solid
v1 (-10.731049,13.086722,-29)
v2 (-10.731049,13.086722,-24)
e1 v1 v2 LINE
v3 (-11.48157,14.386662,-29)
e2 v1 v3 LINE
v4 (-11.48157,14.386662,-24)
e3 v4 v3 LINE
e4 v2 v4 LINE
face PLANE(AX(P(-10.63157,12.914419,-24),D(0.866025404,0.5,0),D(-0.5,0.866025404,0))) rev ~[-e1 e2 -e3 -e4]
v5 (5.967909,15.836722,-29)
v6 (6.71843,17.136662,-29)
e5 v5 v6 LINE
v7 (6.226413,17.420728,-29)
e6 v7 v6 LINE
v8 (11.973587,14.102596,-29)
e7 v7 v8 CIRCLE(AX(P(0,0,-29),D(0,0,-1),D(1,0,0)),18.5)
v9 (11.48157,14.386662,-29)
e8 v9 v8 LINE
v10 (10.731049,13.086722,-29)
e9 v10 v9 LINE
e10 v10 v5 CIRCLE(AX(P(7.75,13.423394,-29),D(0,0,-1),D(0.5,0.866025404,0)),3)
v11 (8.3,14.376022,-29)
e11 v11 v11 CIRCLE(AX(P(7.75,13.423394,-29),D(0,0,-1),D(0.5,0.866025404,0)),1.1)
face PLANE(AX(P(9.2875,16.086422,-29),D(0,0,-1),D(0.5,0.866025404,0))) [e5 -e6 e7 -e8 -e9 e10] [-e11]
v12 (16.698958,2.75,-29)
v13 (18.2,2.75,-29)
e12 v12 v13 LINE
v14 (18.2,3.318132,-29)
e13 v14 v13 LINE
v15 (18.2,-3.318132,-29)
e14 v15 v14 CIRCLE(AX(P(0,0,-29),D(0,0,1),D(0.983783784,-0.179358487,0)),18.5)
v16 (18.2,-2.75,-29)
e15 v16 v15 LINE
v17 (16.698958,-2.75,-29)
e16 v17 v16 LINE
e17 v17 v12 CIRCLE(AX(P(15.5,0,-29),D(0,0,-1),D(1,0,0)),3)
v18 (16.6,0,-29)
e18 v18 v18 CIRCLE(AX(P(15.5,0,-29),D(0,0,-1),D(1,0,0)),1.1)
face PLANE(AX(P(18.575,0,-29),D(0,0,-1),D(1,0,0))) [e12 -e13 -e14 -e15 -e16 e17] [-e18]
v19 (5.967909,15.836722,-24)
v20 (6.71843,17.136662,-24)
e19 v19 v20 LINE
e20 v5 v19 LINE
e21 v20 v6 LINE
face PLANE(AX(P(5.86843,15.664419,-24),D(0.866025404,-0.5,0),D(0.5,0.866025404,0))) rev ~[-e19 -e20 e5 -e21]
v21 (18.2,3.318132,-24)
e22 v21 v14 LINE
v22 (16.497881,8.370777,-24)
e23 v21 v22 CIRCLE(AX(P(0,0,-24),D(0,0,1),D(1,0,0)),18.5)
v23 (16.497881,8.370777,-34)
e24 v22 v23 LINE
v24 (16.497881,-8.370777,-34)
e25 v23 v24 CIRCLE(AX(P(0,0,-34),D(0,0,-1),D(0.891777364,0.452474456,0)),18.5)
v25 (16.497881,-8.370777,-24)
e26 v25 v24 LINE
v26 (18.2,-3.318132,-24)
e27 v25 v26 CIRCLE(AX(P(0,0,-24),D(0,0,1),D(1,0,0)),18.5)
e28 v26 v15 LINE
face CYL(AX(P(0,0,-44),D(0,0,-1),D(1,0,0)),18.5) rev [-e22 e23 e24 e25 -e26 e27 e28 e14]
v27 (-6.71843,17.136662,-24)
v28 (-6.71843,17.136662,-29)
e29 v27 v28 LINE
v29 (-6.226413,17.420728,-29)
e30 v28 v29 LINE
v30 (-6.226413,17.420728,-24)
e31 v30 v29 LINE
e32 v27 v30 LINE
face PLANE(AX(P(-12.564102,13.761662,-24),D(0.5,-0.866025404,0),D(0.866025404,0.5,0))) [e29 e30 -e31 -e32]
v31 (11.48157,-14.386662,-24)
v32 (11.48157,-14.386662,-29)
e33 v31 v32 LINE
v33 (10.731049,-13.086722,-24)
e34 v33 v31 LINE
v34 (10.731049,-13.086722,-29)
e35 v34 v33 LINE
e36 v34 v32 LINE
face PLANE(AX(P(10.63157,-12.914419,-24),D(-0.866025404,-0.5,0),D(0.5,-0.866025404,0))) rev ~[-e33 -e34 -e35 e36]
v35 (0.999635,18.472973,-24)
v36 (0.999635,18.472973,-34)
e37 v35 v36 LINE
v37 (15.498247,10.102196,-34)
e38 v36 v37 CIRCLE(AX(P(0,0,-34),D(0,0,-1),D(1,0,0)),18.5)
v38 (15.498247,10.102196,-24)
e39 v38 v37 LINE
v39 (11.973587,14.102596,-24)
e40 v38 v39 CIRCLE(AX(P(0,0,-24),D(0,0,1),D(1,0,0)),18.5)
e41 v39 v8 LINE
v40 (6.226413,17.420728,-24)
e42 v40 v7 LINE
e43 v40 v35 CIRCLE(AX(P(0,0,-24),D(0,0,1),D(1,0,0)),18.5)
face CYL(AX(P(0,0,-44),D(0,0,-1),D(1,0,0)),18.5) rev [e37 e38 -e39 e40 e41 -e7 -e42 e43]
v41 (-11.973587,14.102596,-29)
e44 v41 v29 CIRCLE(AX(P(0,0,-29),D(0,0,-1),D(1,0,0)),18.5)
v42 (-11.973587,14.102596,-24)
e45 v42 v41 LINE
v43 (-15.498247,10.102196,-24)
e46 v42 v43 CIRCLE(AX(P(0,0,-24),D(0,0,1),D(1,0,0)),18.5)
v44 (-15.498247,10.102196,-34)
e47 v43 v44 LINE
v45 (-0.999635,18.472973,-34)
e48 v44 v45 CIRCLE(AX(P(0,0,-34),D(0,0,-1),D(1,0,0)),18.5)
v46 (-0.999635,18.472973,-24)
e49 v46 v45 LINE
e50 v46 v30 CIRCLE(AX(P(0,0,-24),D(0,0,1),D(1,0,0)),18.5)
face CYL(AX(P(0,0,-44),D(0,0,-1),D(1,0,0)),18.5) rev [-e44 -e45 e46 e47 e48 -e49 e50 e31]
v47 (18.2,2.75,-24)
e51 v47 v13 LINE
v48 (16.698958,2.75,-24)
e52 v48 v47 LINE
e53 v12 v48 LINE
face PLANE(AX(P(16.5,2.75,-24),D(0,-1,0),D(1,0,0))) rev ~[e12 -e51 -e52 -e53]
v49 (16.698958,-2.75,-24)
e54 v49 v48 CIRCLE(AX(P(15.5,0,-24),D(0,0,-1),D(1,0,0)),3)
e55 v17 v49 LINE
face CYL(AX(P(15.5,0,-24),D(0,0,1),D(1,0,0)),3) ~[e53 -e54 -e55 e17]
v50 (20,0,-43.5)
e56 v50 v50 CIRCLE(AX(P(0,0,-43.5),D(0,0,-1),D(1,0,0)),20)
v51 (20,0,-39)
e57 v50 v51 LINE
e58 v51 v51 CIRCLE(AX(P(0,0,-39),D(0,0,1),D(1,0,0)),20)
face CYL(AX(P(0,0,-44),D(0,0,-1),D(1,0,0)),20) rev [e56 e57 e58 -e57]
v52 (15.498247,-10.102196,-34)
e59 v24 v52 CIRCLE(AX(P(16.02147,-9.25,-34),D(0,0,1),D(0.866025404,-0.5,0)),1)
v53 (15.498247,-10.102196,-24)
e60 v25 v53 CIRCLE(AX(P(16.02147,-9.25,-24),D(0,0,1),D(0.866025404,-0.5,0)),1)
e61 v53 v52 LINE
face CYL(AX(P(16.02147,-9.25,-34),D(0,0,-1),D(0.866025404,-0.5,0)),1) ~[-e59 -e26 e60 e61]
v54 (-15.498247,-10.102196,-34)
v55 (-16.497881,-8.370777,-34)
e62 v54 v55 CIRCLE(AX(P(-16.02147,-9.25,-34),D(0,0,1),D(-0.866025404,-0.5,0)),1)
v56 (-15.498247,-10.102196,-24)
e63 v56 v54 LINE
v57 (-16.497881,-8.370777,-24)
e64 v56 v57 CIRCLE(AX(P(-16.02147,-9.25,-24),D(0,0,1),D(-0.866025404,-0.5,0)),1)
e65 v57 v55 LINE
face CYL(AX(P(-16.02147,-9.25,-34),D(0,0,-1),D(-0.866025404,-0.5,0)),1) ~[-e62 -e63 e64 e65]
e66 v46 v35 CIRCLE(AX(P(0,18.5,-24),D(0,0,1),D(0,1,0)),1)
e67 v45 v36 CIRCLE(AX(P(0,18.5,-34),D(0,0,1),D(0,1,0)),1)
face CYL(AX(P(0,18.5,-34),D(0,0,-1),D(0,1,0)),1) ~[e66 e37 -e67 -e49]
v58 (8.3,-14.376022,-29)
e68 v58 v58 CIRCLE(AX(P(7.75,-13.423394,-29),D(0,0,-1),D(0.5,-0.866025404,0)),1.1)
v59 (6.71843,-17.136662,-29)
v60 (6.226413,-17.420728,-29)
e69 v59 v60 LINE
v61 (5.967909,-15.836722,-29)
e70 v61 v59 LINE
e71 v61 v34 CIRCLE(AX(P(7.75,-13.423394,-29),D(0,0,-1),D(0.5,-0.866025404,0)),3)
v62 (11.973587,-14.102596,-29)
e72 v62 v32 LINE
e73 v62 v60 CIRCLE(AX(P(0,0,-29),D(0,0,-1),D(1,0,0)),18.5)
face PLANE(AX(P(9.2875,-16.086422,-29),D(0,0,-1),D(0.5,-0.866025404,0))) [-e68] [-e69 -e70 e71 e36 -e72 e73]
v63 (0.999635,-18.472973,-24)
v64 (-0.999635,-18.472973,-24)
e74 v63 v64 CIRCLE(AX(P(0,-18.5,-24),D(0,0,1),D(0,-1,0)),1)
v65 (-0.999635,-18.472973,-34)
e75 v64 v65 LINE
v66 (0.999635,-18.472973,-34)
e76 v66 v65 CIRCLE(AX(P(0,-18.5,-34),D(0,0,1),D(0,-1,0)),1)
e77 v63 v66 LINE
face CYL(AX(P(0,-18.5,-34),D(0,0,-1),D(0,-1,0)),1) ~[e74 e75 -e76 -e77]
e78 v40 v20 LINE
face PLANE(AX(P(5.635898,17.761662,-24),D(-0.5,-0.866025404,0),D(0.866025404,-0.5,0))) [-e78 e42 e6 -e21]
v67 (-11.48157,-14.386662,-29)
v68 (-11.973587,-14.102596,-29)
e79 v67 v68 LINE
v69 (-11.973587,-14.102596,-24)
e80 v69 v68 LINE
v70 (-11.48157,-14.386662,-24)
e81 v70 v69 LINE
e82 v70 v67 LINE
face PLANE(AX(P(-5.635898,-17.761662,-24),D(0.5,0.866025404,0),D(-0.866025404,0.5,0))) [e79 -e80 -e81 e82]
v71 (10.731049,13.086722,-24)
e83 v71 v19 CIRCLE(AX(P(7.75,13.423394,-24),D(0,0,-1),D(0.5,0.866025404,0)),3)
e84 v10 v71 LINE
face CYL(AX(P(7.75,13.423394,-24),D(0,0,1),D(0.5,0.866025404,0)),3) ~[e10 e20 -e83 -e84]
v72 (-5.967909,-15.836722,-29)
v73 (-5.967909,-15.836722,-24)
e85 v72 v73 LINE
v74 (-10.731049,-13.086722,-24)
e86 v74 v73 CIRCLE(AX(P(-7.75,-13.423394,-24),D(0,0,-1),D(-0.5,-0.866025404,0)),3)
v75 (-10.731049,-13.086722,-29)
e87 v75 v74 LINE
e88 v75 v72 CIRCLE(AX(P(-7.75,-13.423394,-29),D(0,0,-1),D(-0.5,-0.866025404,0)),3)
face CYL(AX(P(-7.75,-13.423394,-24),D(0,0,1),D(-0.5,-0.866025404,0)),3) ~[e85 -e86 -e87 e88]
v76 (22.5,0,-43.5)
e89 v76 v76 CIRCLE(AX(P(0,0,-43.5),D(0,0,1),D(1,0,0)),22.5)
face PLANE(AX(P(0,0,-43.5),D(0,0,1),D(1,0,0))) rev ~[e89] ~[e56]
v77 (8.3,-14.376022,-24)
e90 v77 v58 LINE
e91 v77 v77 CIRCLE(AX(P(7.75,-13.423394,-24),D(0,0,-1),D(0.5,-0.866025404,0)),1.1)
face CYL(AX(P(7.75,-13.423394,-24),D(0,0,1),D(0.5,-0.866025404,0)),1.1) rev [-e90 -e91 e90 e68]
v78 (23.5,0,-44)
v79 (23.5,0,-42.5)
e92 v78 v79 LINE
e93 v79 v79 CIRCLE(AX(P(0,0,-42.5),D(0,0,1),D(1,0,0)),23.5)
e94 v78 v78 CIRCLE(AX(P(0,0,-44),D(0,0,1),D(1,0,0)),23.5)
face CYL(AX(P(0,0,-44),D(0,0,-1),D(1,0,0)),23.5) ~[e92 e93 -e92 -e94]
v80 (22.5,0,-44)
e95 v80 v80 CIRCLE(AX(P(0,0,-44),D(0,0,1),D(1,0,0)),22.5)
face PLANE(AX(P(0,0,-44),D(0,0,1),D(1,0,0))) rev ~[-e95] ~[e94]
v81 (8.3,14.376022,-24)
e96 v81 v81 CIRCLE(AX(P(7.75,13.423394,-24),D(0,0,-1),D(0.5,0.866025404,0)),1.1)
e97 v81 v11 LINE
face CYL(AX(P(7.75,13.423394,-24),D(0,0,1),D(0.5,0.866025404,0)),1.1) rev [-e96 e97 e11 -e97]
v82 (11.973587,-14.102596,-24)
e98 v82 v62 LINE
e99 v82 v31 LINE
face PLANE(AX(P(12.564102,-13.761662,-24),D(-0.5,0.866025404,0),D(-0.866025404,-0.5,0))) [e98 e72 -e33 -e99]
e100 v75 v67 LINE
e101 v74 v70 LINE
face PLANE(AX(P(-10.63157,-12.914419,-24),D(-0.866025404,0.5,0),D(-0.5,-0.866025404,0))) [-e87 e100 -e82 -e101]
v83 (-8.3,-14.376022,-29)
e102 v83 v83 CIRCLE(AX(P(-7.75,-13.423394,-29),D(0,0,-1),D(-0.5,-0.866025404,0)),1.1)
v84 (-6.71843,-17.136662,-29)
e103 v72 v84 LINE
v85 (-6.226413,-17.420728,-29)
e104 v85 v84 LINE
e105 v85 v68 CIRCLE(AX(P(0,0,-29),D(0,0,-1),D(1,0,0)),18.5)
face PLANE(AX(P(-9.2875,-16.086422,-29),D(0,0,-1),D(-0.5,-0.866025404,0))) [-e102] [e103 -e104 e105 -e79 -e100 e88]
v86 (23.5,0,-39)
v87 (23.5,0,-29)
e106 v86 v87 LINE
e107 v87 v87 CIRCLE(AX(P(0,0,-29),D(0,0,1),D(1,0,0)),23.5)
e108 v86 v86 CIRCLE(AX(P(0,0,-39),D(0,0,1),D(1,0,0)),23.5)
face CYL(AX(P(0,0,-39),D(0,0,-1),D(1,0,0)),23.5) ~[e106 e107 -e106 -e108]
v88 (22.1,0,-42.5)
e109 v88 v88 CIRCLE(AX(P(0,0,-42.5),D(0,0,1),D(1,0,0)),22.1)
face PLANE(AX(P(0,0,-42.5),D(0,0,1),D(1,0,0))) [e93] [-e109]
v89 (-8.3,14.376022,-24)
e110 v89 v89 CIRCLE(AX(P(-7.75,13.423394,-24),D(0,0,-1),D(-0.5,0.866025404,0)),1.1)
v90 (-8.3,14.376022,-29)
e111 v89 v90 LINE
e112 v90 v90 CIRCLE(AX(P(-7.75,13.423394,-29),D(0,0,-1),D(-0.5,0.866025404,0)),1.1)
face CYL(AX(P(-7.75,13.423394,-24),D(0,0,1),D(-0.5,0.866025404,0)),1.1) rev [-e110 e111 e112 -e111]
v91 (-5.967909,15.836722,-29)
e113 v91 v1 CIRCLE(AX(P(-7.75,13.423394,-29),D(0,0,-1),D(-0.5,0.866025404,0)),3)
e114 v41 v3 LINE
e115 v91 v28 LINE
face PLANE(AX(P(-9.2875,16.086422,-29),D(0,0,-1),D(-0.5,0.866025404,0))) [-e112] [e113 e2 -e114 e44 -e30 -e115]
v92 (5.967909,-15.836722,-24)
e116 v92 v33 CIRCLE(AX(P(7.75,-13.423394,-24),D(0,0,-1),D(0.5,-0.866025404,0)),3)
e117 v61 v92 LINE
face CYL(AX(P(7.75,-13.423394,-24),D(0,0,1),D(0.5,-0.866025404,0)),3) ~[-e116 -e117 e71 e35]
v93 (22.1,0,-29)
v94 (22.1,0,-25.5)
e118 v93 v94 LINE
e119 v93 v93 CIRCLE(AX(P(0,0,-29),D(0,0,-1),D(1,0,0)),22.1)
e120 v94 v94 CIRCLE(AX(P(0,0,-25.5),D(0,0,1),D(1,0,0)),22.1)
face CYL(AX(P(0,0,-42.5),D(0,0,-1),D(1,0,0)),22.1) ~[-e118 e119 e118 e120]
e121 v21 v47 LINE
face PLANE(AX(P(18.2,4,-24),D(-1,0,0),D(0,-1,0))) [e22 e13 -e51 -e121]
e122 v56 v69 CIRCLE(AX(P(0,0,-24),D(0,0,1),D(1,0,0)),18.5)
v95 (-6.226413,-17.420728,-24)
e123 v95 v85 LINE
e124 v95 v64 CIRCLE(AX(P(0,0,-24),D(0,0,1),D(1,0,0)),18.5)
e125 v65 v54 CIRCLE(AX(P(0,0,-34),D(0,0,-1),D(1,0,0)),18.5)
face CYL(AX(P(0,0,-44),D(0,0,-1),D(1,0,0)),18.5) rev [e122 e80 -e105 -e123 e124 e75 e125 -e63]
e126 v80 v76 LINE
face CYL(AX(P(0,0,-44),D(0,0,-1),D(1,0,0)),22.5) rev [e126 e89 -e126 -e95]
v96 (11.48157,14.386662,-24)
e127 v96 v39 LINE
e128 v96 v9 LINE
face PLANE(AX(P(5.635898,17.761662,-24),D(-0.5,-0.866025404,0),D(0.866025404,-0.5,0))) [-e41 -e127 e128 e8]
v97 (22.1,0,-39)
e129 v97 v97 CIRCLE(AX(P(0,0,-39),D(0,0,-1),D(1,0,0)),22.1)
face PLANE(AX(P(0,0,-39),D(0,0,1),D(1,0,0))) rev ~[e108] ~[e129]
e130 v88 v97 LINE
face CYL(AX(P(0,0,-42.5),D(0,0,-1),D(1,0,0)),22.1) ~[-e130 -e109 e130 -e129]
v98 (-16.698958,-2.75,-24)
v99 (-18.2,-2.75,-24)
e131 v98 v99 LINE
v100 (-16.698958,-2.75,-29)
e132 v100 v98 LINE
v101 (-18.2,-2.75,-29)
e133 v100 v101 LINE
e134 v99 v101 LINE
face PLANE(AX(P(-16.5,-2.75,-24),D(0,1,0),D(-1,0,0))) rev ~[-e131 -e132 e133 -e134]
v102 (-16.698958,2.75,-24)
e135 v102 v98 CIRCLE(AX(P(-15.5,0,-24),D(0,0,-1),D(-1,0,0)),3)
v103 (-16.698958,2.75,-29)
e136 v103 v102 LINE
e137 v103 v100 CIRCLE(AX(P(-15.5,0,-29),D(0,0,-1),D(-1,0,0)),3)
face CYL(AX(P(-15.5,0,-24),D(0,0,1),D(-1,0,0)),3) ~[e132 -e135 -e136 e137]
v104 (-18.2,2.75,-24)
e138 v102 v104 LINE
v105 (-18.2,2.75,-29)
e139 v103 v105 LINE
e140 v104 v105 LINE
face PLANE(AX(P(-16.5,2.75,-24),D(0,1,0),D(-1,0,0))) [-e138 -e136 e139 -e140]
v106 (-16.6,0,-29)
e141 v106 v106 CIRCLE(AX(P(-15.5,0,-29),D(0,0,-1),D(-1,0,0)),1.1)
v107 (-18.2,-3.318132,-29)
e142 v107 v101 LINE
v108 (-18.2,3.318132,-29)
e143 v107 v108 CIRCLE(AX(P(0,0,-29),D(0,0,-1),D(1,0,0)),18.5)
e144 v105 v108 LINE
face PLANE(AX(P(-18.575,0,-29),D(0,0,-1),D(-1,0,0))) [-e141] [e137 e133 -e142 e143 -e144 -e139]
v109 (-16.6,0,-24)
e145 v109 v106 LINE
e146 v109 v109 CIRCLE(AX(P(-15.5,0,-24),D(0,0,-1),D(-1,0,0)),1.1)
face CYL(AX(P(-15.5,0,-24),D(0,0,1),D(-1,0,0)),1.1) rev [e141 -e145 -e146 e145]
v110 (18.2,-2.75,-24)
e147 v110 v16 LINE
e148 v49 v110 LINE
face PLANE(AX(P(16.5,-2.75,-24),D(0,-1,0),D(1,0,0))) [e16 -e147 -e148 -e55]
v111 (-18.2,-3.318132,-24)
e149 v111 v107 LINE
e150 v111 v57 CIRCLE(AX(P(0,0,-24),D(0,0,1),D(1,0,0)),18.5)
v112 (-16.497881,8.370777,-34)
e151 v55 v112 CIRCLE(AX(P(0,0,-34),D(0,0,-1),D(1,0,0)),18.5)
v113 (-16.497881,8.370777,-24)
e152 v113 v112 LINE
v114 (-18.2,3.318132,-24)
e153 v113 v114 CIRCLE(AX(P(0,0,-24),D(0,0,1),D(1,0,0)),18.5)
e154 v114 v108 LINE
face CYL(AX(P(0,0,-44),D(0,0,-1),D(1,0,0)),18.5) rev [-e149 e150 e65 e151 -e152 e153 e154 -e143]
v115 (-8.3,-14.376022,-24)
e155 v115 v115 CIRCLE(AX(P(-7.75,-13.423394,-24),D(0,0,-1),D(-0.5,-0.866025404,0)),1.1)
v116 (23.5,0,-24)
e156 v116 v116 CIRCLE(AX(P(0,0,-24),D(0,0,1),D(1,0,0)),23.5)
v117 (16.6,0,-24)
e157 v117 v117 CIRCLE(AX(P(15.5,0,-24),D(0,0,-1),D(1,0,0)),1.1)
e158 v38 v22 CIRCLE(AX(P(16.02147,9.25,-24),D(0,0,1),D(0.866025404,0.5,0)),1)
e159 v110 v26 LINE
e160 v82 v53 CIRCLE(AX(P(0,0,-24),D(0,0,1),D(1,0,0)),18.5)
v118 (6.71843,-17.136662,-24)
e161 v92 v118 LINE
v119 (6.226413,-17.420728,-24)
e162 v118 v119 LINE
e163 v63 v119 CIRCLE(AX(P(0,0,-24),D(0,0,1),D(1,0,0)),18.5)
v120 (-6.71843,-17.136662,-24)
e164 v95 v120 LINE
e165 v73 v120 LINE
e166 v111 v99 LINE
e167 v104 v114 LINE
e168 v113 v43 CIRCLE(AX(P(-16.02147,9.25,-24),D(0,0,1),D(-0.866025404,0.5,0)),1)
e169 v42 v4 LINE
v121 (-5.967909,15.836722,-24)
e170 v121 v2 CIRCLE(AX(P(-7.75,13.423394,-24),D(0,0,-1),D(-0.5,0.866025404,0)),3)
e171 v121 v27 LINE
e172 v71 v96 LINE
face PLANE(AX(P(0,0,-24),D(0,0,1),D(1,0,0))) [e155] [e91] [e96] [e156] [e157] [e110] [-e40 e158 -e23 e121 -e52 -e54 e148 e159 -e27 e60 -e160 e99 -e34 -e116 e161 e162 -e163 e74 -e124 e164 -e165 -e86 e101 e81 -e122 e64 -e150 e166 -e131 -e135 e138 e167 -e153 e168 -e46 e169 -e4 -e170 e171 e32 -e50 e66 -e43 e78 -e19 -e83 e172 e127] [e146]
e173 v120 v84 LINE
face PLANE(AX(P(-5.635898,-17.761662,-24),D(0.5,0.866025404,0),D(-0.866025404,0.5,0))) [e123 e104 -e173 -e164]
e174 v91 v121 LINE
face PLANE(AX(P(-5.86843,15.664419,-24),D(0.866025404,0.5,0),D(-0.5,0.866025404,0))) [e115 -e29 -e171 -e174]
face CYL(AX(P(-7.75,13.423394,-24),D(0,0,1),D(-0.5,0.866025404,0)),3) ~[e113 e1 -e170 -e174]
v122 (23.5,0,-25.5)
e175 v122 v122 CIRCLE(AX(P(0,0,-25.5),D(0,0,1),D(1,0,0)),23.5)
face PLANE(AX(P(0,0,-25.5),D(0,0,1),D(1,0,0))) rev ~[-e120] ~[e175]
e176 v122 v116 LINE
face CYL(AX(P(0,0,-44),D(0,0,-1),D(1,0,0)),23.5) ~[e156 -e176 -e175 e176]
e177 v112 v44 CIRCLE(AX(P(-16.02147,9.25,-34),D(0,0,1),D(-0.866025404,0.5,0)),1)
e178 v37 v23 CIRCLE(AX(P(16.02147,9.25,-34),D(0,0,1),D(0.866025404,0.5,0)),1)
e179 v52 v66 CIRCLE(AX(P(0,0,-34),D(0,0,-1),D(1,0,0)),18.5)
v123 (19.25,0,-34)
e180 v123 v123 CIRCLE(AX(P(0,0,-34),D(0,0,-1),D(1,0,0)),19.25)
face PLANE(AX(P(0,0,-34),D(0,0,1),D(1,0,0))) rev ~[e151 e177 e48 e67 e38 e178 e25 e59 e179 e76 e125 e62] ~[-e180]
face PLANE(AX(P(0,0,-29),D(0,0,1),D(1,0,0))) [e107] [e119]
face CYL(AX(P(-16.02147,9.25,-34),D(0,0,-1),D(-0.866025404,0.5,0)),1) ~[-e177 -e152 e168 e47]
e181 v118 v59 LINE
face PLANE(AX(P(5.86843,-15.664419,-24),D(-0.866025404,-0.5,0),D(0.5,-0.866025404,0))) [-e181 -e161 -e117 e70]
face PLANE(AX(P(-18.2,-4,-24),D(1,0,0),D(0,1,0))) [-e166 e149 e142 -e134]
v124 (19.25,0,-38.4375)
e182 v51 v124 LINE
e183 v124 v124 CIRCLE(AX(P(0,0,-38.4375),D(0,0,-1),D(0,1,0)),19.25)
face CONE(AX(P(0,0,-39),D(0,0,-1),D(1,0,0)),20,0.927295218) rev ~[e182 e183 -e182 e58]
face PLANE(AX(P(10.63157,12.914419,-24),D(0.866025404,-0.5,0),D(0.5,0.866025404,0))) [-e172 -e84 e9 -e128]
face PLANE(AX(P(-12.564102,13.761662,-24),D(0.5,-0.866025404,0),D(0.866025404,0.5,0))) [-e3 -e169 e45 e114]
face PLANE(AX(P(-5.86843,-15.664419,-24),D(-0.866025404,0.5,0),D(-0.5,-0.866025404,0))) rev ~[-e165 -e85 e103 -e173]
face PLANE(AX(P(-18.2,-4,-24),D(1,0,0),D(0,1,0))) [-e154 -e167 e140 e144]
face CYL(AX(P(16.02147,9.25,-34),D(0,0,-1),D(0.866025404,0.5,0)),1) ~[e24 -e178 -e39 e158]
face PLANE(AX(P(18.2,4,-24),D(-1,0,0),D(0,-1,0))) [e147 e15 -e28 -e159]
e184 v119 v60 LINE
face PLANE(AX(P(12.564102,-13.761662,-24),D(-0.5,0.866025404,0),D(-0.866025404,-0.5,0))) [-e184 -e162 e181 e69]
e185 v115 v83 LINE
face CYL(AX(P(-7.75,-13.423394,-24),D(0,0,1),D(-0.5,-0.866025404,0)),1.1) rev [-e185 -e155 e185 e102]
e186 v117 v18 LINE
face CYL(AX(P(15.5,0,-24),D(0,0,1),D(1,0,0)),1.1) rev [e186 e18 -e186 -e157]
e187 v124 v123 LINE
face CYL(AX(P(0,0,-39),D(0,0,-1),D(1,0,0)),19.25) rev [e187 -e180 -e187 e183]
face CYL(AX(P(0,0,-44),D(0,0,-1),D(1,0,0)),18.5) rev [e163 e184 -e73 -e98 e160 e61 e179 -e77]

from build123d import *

# Parameters (mm, degrees)
CYLINDER101_R               = 1.1
CYLINDER101_DEPTH           = 5
BOX013_W                    = 2
BOX013_H                    = 5.5
BOX013_DEPTH                = 5
BOX012_W                    = 0.75
BOX012_H                    = 8
BOX012_DEPTH                = 5
CYLINDER100_R               = 3
CYLINDER100_DEPTH           = 5
CUT064_PLACEMENT_ANGLE      = 120
CYLINDER104_R               = 1.1
CYLINDER104_DEPTH           = 5
CUT067_PLACEMENT_ANGLE      = -60
CYLINDER102_R               = 1.1
CYLINDER102_DEPTH           = 5
CUT065_PLACEMENT_ANGLE      = 180
CYLINDER106_R               = 1.1
CYLINDER106_DEPTH           = 5
CYLINDER103_R               = 1.1
CYLINDER103_DEPTH           = 5
CUT066_PLACEMENT_ANGLE      = 240
CYLINDER098_R               = 1.1
CYLINDER098_DEPTH           = 5
CUT063_PLACEMENT_ANGLE      = 60
CYLINDER007_R               = 19.25
CYLINDER007_DEPTH           = 5
CYLINDER018_R               = 22.5
CYLINDER018_DEPTH           = 0.5
CYLINDER070_R               = 20
CYLINDER070_DEPTH           = 5
CYLINDER006_R               = 18.5
CYLINDER006_DEPTH           = 20
CYLINDER002_R               = 22.1
CYLINDER002_DEPTH           = 17
CYLINDER001_R               = 23.5
CYLINDER001_DEPTH           = 17
CYLINDER_R                  = 23.5
CYLINDER_DEPTH              = 20
CYLINDER003_R               = 22
CYLINDER003_DEPTH           = 17
CYLINDER004_R               = 23.5
CYLINDER004_DEPTH           = 10
CUT060_PLACEMENT_ANGLE      = 180
FUSION050_PLACEMENT_ANGLE   = 180
CYLINDER073_R               = 1
CYLINDER073_DEPTH           = 10
CYLINDER073_PLACEMENT_ANGLE = 120
CYLINDER075_R               = 1
CYLINDER075_DEPTH           = 10
CYLINDER075_PLACEMENT_ANGLE = 240
CYLINDER072_R               = 1
CYLINDER072_DEPTH           = 10
CYLINDER072_PLACEMENT_ANGLE = 60
CYLINDER074_R               = 1
CYLINDER074_DEPTH           = 10
CYLINDER076_R               = 1
CYLINDER076_DEPTH           = 10
CYLINDER076_PLACEMENT_ANGLE = -60
CYLINDER071_R               = 1
CYLINDER071_DEPTH           = 10
FUSION030_PLACEMENT_ANGLE   = 30


with BuildPart() as cylinder101:
    # Cylinder101 → Cylinder101 (new body)
    with BuildSketch(Plane(origin=(15.5, 0, 15), x_dir=(1, 0, 0), z_dir=(0, 0, 1))):
        Circle(CYLINDER101_R)
    extrude(amount=CYLINDER101_DEPTH)


with BuildPart() as cube013:
    # Box013 → Box013 (new body)
    with BuildSketch(Plane(origin=(16.5, -2.75, 15), x_dir=(1, 0, 0), z_dir=(0, 0, 1))):
        with Locations((1, 2.75)):
            Rectangle(BOX013_W, BOX013_H)
    extrude(amount=BOX013_DEPTH)


with BuildPart() as cube012:
    # Box012 → Box012 (new body)
    with BuildSketch(Plane(origin=(18.2, -4, 15), x_dir=(1, 0, 0), z_dir=(0, 0, 1))):
        with Locations((0.375, 4)):
            Rectangle(BOX012_W, BOX012_H)
    extrude(amount=BOX012_DEPTH)


with BuildPart() as cylinder100:
    # Cylinder100 → Cylinder100 (new body)
    with BuildSketch(Plane(origin=(15.5, 0, 15), x_dir=(1, 0, 0), z_dir=(0, 0, 1))):
        Circle(CYLINDER100_R)
    extrude(amount=CYLINDER100_DEPTH)


with BuildPart() as cut064:
    # Fusion043 base: copy of Cylinder100
    add(cylinder100.part)

    # Fusion043: union Cube013, Cube012
    add(cube013.part)
    add(cube012.part)

    # Cut064: cut Cylinder101
    add(cylinder101.part, mode=Mode.SUBTRACT)


with BuildPart() as cut064_1:
    # Cut064 placement: moved
    add(cut064.part.moved(Location((0, 0, 9))).rotate(Axis((0, 0, 9), (0, 0, 1)), CUT064_PLACEMENT_ANGLE))


with BuildPart() as cylinder104:
    # Cylinder104 → Cylinder104 (new body)
    with BuildSketch(Plane(origin=(15.5, 0, 15), x_dir=(1, 0, 0), z_dir=(0, 0, 1))):
        Circle(CYLINDER104_R)
    extrude(amount=CYLINDER104_DEPTH)


with BuildPart() as cut067:
    # Fusion046 base: copy of Cylinder100
    add(cylinder100.part)

    # Fusion046: union Cube013, Cube012
    add(cube013.part)
    add(cube012.part)

    # Cut067: cut Cylinder104
    add(cylinder104.part, mode=Mode.SUBTRACT)


with BuildPart() as cut067_1:
    # Cut067 placement: moved
    add(cut067.part.moved(Location((0, 0, 9))).rotate(Axis((0, 0, 9), (0, 0, 1)), CUT067_PLACEMENT_ANGLE))


with BuildPart() as cylinder102:
    # Cylinder102 → Cylinder102 (new body)
    with BuildSketch(Plane(origin=(15.5, 0, 15), x_dir=(1, 0, 0), z_dir=(0, 0, 1))):
        Circle(CYLINDER102_R)
    extrude(amount=CYLINDER102_DEPTH)


with BuildPart() as cut065:
    # Fusion044 base: copy of Cylinder100
    add(cylinder100.part)

    # Fusion044: union Cube013, Cube012
    add(cube013.part)
    add(cube012.part)

    # Cut065: cut Cylinder102
    add(cylinder102.part, mode=Mode.SUBTRACT)


with BuildPart() as cut065_1:
    # Cut065 placement: moved
    add(cut065.part.moved(Location((0, 0, 9))).rotate(Axis((0, 0, 9), (0, 0, 1)), CUT065_PLACEMENT_ANGLE))


with BuildPart() as cylinder106:
    # Cylinder106 → Cylinder106 (new body)
    with BuildSketch(Plane(origin=(15.5, 0, 15), x_dir=(1, 0, 0), z_dir=(0, 0, 1))):
        Circle(CYLINDER106_R)
    extrude(amount=CYLINDER106_DEPTH)


with BuildPart() as cut069:
    # Fusion048 base: copy of Cylinder100
    add(cylinder100.part)

    # Fusion048: union Cube013, Cube012
    add(cube013.part)
    add(cube012.part)

    # Cut069: cut Cylinder106
    add(cylinder106.part, mode=Mode.SUBTRACT)


with BuildPart() as cut069_1:
    # Cut069 placement: moved
    add(cut069.part.moved(Location((0, 0, 9))))


with BuildPart() as cylinder103:
    # Cylinder103 → Cylinder103 (new body)
    with BuildSketch(Plane(origin=(15.5, 0, 15), x_dir=(1, 0, 0), z_dir=(0, 0, 1))):
        Circle(CYLINDER103_R)
    extrude(amount=CYLINDER103_DEPTH)


with BuildPart() as cut066:
    # Fusion045 base: copy of Cylinder100
    add(cylinder100.part)

    # Fusion045: union Cube013, Cube012
    add(cube013.part)
    add(cube012.part)

    # Cut066: cut Cylinder103
    add(cylinder103.part, mode=Mode.SUBTRACT)


with BuildPart() as cut066_1:
    # Cut066 placement: moved
    add(cut066.part.moved(Location((0, 0, 9))).rotate(Axis((0, 0, 9), (0, 0, 1)), CUT066_PLACEMENT_ANGLE))


with BuildPart() as cylinder098:
    # Cylinder098 → Cylinder098 (new body)
    with BuildSketch(Plane(origin=(15.5, 0, 15), x_dir=(1, 0, 0), z_dir=(0, 0, 1))):
        Circle(CYLINDER098_R)
    extrude(amount=CYLINDER098_DEPTH)


with BuildPart() as fusion049:
    # Fusion042 base: copy of Cylinder100
    add(cylinder100.part)

    # Fusion042: union Cube013, Cube012
    add(cube013.part)
    add(cube012.part)

    # Cut063: cut Cylinder098
    add(cylinder098.part, mode=Mode.SUBTRACT)


with BuildPart() as fusion049_1:
    # Cut063 placement: moved
    add(fusion049.part.moved(Location((0, 0, 9))).rotate(Axis((0, 0, 9), (0, 0, 1)), CUT063_PLACEMENT_ANGLE))

    # Fusion049: union Cut064, Cut067, Cut065, Cut069, Cut066
    add(cut064_1.part)
    add(cut067_1.part)
    add(cut065_1.part)
    add(cut069_1.part)
    add(cut066_1.part)


with BuildPart() as cylinder007:
    # Cylinder007 → Cylinder007 (new body)
    with BuildSketch(Plane.XY.offset(5)):
        Circle(CYLINDER007_R)
    extrude(amount=CYLINDER007_DEPTH)


with BuildPart() as cone:
    # Cone → Cone (revolve)
    with BuildSketch(Plane(origin=(0, 0, 5), x_dir=(1, 0, 0), z_dir=(0, -1, 0))):
        Polygon((0, 0), (20, 0), (12, 6), (0, 6), align=None)
    revolve(axis=Axis((0, 0, 5), (0, 0, 1)))


with BuildPart() as cylinder018:
    # Cylinder018 → Cylinder018 (new body)
    with BuildSketch(Plane.XY):
        Circle(CYLINDER018_R)
    extrude(amount=CYLINDER018_DEPTH)


with BuildPart() as cylinder070:
    # Cylinder070 → Cylinder070 (new body)
    with BuildSketch(Plane.XY):
        Circle(CYLINDER070_R)
    extrude(amount=CYLINDER070_DEPTH)


with BuildPart() as cylinder006:
    # Cylinder006 → Cylinder006 (new body)
    with BuildSketch(Plane.XY):
        Circle(CYLINDER006_R)
    extrude(amount=CYLINDER006_DEPTH)


with BuildPart() as cylinder002:
    # Cylinder002 → Cylinder002 (new body)
    with BuildSketch(Plane.XY):
        Circle(CYLINDER002_R)
    extrude(amount=CYLINDER002_DEPTH)


with BuildPart() as cut:
    # Cylinder001 → Cylinder001 (new body)
    with BuildSketch(Plane.XY):
        Circle(CYLINDER001_R)
    extrude(amount=CYLINDER001_DEPTH)

    # Cut: cut Cylinder002
    add(cylinder002.part, mode=Mode.SUBTRACT)


with BuildPart() as cut_1:
    # Cut placement: moved
    add(cut.part.moved(Location((0, 0, 1.5))))


with BuildPart() as cut001:
    # Cylinder → Cylinder (new body)
    with BuildSketch(Plane.XY):
        Circle(CYLINDER_R)
    extrude(amount=CYLINDER_DEPTH)

    # Cut001: cut Cut
    add(cut_1.part, mode=Mode.SUBTRACT)


with BuildPart() as cylinder003:
    # Cylinder003 → Cylinder003 (new body)
    with BuildSketch(Plane.XY):
        Circle(CYLINDER003_R)
    extrude(amount=CYLINDER003_DEPTH)


with BuildPart() as rim_inner_rear:
    # Cylinder004 → Cylinder004 (new body)
    with BuildSketch(Plane.XY.offset(0.5)):
        Circle(CYLINDER004_R)
    extrude(amount=CYLINDER004_DEPTH)

    # Cut002: cut Cylinder003
    add(cylinder003.part, mode=Mode.SUBTRACT)


with BuildPart() as rim_inner_rear_1:
    # Cut002 placement: moved
    add(rim_inner_rear.part.moved(Location((0, 0, 4.5))))

    # Fusion: union Cut001
    add(cut001.part)

    # Cut031: cut Cylinder006
    add(cylinder006.part, mode=Mode.SUBTRACT)

    # Cut057: cut Cylinder070
    add(cylinder070.part, mode=Mode.SUBTRACT)

    # Cut058: cut Cylinder018
    add(cylinder018.part, mode=Mode.SUBTRACT)

    # Cut059: cut Cone
    add(cone.part, mode=Mode.SUBTRACT)

    # Cut060: cut Cylinder007
    add(cylinder007.part, mode=Mode.SUBTRACT)


with BuildPart() as rim_inner_rear_2:
    # Cut060 placement: moved
    add(rim_inner_rear_1.part.moved(Location((0, 0, 44))).rotate(Axis((0, 0, 44), (0, 1, 0)), CUT060_PLACEMENT_ANGLE))

    # Fusion050: union Fusion049
    add(fusion049_1.part)


with BuildPart() as rim_inner_rear_3:
    # Fusion050 placement: moved
    add(rim_inner_rear_2.part.rotate(Axis((0, 0, 0), (0, 1, 0)), FUSION050_PLACEMENT_ANGLE))


with BuildPart() as cylinder073:
    # Cylinder073 → Cylinder073 (new body)
    with BuildSketch(Plane.XY):
        Circle(CYLINDER073_R)
    extrude(amount=CYLINDER073_DEPTH)


with BuildPart() as cylinder073_1:
    # Cylinder073 placement: moved
    add(cylinder073.part.moved(Location((-9.25, 16.02147, 5))).rotate(Axis((-9.25, 16.02147, 5), (0, 0, 1)), CYLINDER073_PLACEMENT_ANGLE))


with BuildPart() as cylinder075:
    # Cylinder075 → Cylinder075 (new body)
    with BuildSketch(Plane.XY):
        Circle(CYLINDER075_R)
    extrude(amount=CYLINDER075_DEPTH)


with BuildPart() as cylinder075_1:
    # Cylinder075 placement: moved
    add(cylinder075.part.moved(Location((-9.25, -16.02147, 5))).rotate(Axis((-9.25, -16.02147, 5), (0, 0, 1)), CYLINDER075_PLACEMENT_ANGLE))


with BuildPart() as cylinder072:
    # Cylinder072 → Cylinder072 (new body)
    with BuildSketch(Plane.XY):
        Circle(CYLINDER072_R)
    extrude(amount=CYLINDER072_DEPTH)


with BuildPart() as cylinder072_1:
    # Cylinder072 placement: moved
    add(cylinder072.part.moved(Location((9.25, 16.02147, 5))).rotate(Axis((9.25, 16.02147, 5), (0, 0, 1)), CYLINDER072_PLACEMENT_ANGLE))


with BuildPart() as cylinder074:
    # Cylinder074 → Cylinder074 (new body)
    with BuildSketch(Plane(origin=(-18.5, 0, 5), x_dir=(-1, 0, 0), z_dir=(0, 0, 1))):
        Circle(CYLINDER074_R)
    extrude(amount=CYLINDER074_DEPTH)


with BuildPart() as cylinder076:
    # Cylinder076 → Cylinder076 (new body)
    with BuildSketch(Plane.XY):
        Circle(CYLINDER076_R)
    extrude(amount=CYLINDER076_DEPTH)


with BuildPart() as cylinder076_1:
    # Cylinder076 placement: moved
    add(cylinder076.part.moved(Location((9.25, -16.02147, 5))).rotate(Axis((9.25, -16.02147, 5), (0, 0, 1)), CYLINDER076_PLACEMENT_ANGLE))


with BuildPart() as fusion070:
    # Cylinder071 → Cylinder071 (new body)
    with BuildSketch(Plane(origin=(18.5, 0, 5), x_dir=(1, 0, 0), z_dir=(0, 0, 1))):
        Circle(CYLINDER071_R)
    extrude(amount=CYLINDER071_DEPTH)

    # Fusion030: union Cylinder073, Cylinder075, Cylinder072, Cylinder074, Cylinder076
    add(cylinder073_1.part)
    add(cylinder075_1.part)
    add(cylinder072_1.part)
    add(cylinder074.part)
    add(cylinder076_1.part)


with BuildPart() as fusion070_1:
    # Fusion030 placement: moved
    add(fusion070.part.moved(Location((0, 0, -39))).rotate(Axis((0, 0, -39), (0, 0, 1)), FUSION030_PLACEMENT_ANGLE))

    # Fusion070: union rim-inner-rear_
    add(rim_inner_rear_3.part)


solid = fusion070_1.part
